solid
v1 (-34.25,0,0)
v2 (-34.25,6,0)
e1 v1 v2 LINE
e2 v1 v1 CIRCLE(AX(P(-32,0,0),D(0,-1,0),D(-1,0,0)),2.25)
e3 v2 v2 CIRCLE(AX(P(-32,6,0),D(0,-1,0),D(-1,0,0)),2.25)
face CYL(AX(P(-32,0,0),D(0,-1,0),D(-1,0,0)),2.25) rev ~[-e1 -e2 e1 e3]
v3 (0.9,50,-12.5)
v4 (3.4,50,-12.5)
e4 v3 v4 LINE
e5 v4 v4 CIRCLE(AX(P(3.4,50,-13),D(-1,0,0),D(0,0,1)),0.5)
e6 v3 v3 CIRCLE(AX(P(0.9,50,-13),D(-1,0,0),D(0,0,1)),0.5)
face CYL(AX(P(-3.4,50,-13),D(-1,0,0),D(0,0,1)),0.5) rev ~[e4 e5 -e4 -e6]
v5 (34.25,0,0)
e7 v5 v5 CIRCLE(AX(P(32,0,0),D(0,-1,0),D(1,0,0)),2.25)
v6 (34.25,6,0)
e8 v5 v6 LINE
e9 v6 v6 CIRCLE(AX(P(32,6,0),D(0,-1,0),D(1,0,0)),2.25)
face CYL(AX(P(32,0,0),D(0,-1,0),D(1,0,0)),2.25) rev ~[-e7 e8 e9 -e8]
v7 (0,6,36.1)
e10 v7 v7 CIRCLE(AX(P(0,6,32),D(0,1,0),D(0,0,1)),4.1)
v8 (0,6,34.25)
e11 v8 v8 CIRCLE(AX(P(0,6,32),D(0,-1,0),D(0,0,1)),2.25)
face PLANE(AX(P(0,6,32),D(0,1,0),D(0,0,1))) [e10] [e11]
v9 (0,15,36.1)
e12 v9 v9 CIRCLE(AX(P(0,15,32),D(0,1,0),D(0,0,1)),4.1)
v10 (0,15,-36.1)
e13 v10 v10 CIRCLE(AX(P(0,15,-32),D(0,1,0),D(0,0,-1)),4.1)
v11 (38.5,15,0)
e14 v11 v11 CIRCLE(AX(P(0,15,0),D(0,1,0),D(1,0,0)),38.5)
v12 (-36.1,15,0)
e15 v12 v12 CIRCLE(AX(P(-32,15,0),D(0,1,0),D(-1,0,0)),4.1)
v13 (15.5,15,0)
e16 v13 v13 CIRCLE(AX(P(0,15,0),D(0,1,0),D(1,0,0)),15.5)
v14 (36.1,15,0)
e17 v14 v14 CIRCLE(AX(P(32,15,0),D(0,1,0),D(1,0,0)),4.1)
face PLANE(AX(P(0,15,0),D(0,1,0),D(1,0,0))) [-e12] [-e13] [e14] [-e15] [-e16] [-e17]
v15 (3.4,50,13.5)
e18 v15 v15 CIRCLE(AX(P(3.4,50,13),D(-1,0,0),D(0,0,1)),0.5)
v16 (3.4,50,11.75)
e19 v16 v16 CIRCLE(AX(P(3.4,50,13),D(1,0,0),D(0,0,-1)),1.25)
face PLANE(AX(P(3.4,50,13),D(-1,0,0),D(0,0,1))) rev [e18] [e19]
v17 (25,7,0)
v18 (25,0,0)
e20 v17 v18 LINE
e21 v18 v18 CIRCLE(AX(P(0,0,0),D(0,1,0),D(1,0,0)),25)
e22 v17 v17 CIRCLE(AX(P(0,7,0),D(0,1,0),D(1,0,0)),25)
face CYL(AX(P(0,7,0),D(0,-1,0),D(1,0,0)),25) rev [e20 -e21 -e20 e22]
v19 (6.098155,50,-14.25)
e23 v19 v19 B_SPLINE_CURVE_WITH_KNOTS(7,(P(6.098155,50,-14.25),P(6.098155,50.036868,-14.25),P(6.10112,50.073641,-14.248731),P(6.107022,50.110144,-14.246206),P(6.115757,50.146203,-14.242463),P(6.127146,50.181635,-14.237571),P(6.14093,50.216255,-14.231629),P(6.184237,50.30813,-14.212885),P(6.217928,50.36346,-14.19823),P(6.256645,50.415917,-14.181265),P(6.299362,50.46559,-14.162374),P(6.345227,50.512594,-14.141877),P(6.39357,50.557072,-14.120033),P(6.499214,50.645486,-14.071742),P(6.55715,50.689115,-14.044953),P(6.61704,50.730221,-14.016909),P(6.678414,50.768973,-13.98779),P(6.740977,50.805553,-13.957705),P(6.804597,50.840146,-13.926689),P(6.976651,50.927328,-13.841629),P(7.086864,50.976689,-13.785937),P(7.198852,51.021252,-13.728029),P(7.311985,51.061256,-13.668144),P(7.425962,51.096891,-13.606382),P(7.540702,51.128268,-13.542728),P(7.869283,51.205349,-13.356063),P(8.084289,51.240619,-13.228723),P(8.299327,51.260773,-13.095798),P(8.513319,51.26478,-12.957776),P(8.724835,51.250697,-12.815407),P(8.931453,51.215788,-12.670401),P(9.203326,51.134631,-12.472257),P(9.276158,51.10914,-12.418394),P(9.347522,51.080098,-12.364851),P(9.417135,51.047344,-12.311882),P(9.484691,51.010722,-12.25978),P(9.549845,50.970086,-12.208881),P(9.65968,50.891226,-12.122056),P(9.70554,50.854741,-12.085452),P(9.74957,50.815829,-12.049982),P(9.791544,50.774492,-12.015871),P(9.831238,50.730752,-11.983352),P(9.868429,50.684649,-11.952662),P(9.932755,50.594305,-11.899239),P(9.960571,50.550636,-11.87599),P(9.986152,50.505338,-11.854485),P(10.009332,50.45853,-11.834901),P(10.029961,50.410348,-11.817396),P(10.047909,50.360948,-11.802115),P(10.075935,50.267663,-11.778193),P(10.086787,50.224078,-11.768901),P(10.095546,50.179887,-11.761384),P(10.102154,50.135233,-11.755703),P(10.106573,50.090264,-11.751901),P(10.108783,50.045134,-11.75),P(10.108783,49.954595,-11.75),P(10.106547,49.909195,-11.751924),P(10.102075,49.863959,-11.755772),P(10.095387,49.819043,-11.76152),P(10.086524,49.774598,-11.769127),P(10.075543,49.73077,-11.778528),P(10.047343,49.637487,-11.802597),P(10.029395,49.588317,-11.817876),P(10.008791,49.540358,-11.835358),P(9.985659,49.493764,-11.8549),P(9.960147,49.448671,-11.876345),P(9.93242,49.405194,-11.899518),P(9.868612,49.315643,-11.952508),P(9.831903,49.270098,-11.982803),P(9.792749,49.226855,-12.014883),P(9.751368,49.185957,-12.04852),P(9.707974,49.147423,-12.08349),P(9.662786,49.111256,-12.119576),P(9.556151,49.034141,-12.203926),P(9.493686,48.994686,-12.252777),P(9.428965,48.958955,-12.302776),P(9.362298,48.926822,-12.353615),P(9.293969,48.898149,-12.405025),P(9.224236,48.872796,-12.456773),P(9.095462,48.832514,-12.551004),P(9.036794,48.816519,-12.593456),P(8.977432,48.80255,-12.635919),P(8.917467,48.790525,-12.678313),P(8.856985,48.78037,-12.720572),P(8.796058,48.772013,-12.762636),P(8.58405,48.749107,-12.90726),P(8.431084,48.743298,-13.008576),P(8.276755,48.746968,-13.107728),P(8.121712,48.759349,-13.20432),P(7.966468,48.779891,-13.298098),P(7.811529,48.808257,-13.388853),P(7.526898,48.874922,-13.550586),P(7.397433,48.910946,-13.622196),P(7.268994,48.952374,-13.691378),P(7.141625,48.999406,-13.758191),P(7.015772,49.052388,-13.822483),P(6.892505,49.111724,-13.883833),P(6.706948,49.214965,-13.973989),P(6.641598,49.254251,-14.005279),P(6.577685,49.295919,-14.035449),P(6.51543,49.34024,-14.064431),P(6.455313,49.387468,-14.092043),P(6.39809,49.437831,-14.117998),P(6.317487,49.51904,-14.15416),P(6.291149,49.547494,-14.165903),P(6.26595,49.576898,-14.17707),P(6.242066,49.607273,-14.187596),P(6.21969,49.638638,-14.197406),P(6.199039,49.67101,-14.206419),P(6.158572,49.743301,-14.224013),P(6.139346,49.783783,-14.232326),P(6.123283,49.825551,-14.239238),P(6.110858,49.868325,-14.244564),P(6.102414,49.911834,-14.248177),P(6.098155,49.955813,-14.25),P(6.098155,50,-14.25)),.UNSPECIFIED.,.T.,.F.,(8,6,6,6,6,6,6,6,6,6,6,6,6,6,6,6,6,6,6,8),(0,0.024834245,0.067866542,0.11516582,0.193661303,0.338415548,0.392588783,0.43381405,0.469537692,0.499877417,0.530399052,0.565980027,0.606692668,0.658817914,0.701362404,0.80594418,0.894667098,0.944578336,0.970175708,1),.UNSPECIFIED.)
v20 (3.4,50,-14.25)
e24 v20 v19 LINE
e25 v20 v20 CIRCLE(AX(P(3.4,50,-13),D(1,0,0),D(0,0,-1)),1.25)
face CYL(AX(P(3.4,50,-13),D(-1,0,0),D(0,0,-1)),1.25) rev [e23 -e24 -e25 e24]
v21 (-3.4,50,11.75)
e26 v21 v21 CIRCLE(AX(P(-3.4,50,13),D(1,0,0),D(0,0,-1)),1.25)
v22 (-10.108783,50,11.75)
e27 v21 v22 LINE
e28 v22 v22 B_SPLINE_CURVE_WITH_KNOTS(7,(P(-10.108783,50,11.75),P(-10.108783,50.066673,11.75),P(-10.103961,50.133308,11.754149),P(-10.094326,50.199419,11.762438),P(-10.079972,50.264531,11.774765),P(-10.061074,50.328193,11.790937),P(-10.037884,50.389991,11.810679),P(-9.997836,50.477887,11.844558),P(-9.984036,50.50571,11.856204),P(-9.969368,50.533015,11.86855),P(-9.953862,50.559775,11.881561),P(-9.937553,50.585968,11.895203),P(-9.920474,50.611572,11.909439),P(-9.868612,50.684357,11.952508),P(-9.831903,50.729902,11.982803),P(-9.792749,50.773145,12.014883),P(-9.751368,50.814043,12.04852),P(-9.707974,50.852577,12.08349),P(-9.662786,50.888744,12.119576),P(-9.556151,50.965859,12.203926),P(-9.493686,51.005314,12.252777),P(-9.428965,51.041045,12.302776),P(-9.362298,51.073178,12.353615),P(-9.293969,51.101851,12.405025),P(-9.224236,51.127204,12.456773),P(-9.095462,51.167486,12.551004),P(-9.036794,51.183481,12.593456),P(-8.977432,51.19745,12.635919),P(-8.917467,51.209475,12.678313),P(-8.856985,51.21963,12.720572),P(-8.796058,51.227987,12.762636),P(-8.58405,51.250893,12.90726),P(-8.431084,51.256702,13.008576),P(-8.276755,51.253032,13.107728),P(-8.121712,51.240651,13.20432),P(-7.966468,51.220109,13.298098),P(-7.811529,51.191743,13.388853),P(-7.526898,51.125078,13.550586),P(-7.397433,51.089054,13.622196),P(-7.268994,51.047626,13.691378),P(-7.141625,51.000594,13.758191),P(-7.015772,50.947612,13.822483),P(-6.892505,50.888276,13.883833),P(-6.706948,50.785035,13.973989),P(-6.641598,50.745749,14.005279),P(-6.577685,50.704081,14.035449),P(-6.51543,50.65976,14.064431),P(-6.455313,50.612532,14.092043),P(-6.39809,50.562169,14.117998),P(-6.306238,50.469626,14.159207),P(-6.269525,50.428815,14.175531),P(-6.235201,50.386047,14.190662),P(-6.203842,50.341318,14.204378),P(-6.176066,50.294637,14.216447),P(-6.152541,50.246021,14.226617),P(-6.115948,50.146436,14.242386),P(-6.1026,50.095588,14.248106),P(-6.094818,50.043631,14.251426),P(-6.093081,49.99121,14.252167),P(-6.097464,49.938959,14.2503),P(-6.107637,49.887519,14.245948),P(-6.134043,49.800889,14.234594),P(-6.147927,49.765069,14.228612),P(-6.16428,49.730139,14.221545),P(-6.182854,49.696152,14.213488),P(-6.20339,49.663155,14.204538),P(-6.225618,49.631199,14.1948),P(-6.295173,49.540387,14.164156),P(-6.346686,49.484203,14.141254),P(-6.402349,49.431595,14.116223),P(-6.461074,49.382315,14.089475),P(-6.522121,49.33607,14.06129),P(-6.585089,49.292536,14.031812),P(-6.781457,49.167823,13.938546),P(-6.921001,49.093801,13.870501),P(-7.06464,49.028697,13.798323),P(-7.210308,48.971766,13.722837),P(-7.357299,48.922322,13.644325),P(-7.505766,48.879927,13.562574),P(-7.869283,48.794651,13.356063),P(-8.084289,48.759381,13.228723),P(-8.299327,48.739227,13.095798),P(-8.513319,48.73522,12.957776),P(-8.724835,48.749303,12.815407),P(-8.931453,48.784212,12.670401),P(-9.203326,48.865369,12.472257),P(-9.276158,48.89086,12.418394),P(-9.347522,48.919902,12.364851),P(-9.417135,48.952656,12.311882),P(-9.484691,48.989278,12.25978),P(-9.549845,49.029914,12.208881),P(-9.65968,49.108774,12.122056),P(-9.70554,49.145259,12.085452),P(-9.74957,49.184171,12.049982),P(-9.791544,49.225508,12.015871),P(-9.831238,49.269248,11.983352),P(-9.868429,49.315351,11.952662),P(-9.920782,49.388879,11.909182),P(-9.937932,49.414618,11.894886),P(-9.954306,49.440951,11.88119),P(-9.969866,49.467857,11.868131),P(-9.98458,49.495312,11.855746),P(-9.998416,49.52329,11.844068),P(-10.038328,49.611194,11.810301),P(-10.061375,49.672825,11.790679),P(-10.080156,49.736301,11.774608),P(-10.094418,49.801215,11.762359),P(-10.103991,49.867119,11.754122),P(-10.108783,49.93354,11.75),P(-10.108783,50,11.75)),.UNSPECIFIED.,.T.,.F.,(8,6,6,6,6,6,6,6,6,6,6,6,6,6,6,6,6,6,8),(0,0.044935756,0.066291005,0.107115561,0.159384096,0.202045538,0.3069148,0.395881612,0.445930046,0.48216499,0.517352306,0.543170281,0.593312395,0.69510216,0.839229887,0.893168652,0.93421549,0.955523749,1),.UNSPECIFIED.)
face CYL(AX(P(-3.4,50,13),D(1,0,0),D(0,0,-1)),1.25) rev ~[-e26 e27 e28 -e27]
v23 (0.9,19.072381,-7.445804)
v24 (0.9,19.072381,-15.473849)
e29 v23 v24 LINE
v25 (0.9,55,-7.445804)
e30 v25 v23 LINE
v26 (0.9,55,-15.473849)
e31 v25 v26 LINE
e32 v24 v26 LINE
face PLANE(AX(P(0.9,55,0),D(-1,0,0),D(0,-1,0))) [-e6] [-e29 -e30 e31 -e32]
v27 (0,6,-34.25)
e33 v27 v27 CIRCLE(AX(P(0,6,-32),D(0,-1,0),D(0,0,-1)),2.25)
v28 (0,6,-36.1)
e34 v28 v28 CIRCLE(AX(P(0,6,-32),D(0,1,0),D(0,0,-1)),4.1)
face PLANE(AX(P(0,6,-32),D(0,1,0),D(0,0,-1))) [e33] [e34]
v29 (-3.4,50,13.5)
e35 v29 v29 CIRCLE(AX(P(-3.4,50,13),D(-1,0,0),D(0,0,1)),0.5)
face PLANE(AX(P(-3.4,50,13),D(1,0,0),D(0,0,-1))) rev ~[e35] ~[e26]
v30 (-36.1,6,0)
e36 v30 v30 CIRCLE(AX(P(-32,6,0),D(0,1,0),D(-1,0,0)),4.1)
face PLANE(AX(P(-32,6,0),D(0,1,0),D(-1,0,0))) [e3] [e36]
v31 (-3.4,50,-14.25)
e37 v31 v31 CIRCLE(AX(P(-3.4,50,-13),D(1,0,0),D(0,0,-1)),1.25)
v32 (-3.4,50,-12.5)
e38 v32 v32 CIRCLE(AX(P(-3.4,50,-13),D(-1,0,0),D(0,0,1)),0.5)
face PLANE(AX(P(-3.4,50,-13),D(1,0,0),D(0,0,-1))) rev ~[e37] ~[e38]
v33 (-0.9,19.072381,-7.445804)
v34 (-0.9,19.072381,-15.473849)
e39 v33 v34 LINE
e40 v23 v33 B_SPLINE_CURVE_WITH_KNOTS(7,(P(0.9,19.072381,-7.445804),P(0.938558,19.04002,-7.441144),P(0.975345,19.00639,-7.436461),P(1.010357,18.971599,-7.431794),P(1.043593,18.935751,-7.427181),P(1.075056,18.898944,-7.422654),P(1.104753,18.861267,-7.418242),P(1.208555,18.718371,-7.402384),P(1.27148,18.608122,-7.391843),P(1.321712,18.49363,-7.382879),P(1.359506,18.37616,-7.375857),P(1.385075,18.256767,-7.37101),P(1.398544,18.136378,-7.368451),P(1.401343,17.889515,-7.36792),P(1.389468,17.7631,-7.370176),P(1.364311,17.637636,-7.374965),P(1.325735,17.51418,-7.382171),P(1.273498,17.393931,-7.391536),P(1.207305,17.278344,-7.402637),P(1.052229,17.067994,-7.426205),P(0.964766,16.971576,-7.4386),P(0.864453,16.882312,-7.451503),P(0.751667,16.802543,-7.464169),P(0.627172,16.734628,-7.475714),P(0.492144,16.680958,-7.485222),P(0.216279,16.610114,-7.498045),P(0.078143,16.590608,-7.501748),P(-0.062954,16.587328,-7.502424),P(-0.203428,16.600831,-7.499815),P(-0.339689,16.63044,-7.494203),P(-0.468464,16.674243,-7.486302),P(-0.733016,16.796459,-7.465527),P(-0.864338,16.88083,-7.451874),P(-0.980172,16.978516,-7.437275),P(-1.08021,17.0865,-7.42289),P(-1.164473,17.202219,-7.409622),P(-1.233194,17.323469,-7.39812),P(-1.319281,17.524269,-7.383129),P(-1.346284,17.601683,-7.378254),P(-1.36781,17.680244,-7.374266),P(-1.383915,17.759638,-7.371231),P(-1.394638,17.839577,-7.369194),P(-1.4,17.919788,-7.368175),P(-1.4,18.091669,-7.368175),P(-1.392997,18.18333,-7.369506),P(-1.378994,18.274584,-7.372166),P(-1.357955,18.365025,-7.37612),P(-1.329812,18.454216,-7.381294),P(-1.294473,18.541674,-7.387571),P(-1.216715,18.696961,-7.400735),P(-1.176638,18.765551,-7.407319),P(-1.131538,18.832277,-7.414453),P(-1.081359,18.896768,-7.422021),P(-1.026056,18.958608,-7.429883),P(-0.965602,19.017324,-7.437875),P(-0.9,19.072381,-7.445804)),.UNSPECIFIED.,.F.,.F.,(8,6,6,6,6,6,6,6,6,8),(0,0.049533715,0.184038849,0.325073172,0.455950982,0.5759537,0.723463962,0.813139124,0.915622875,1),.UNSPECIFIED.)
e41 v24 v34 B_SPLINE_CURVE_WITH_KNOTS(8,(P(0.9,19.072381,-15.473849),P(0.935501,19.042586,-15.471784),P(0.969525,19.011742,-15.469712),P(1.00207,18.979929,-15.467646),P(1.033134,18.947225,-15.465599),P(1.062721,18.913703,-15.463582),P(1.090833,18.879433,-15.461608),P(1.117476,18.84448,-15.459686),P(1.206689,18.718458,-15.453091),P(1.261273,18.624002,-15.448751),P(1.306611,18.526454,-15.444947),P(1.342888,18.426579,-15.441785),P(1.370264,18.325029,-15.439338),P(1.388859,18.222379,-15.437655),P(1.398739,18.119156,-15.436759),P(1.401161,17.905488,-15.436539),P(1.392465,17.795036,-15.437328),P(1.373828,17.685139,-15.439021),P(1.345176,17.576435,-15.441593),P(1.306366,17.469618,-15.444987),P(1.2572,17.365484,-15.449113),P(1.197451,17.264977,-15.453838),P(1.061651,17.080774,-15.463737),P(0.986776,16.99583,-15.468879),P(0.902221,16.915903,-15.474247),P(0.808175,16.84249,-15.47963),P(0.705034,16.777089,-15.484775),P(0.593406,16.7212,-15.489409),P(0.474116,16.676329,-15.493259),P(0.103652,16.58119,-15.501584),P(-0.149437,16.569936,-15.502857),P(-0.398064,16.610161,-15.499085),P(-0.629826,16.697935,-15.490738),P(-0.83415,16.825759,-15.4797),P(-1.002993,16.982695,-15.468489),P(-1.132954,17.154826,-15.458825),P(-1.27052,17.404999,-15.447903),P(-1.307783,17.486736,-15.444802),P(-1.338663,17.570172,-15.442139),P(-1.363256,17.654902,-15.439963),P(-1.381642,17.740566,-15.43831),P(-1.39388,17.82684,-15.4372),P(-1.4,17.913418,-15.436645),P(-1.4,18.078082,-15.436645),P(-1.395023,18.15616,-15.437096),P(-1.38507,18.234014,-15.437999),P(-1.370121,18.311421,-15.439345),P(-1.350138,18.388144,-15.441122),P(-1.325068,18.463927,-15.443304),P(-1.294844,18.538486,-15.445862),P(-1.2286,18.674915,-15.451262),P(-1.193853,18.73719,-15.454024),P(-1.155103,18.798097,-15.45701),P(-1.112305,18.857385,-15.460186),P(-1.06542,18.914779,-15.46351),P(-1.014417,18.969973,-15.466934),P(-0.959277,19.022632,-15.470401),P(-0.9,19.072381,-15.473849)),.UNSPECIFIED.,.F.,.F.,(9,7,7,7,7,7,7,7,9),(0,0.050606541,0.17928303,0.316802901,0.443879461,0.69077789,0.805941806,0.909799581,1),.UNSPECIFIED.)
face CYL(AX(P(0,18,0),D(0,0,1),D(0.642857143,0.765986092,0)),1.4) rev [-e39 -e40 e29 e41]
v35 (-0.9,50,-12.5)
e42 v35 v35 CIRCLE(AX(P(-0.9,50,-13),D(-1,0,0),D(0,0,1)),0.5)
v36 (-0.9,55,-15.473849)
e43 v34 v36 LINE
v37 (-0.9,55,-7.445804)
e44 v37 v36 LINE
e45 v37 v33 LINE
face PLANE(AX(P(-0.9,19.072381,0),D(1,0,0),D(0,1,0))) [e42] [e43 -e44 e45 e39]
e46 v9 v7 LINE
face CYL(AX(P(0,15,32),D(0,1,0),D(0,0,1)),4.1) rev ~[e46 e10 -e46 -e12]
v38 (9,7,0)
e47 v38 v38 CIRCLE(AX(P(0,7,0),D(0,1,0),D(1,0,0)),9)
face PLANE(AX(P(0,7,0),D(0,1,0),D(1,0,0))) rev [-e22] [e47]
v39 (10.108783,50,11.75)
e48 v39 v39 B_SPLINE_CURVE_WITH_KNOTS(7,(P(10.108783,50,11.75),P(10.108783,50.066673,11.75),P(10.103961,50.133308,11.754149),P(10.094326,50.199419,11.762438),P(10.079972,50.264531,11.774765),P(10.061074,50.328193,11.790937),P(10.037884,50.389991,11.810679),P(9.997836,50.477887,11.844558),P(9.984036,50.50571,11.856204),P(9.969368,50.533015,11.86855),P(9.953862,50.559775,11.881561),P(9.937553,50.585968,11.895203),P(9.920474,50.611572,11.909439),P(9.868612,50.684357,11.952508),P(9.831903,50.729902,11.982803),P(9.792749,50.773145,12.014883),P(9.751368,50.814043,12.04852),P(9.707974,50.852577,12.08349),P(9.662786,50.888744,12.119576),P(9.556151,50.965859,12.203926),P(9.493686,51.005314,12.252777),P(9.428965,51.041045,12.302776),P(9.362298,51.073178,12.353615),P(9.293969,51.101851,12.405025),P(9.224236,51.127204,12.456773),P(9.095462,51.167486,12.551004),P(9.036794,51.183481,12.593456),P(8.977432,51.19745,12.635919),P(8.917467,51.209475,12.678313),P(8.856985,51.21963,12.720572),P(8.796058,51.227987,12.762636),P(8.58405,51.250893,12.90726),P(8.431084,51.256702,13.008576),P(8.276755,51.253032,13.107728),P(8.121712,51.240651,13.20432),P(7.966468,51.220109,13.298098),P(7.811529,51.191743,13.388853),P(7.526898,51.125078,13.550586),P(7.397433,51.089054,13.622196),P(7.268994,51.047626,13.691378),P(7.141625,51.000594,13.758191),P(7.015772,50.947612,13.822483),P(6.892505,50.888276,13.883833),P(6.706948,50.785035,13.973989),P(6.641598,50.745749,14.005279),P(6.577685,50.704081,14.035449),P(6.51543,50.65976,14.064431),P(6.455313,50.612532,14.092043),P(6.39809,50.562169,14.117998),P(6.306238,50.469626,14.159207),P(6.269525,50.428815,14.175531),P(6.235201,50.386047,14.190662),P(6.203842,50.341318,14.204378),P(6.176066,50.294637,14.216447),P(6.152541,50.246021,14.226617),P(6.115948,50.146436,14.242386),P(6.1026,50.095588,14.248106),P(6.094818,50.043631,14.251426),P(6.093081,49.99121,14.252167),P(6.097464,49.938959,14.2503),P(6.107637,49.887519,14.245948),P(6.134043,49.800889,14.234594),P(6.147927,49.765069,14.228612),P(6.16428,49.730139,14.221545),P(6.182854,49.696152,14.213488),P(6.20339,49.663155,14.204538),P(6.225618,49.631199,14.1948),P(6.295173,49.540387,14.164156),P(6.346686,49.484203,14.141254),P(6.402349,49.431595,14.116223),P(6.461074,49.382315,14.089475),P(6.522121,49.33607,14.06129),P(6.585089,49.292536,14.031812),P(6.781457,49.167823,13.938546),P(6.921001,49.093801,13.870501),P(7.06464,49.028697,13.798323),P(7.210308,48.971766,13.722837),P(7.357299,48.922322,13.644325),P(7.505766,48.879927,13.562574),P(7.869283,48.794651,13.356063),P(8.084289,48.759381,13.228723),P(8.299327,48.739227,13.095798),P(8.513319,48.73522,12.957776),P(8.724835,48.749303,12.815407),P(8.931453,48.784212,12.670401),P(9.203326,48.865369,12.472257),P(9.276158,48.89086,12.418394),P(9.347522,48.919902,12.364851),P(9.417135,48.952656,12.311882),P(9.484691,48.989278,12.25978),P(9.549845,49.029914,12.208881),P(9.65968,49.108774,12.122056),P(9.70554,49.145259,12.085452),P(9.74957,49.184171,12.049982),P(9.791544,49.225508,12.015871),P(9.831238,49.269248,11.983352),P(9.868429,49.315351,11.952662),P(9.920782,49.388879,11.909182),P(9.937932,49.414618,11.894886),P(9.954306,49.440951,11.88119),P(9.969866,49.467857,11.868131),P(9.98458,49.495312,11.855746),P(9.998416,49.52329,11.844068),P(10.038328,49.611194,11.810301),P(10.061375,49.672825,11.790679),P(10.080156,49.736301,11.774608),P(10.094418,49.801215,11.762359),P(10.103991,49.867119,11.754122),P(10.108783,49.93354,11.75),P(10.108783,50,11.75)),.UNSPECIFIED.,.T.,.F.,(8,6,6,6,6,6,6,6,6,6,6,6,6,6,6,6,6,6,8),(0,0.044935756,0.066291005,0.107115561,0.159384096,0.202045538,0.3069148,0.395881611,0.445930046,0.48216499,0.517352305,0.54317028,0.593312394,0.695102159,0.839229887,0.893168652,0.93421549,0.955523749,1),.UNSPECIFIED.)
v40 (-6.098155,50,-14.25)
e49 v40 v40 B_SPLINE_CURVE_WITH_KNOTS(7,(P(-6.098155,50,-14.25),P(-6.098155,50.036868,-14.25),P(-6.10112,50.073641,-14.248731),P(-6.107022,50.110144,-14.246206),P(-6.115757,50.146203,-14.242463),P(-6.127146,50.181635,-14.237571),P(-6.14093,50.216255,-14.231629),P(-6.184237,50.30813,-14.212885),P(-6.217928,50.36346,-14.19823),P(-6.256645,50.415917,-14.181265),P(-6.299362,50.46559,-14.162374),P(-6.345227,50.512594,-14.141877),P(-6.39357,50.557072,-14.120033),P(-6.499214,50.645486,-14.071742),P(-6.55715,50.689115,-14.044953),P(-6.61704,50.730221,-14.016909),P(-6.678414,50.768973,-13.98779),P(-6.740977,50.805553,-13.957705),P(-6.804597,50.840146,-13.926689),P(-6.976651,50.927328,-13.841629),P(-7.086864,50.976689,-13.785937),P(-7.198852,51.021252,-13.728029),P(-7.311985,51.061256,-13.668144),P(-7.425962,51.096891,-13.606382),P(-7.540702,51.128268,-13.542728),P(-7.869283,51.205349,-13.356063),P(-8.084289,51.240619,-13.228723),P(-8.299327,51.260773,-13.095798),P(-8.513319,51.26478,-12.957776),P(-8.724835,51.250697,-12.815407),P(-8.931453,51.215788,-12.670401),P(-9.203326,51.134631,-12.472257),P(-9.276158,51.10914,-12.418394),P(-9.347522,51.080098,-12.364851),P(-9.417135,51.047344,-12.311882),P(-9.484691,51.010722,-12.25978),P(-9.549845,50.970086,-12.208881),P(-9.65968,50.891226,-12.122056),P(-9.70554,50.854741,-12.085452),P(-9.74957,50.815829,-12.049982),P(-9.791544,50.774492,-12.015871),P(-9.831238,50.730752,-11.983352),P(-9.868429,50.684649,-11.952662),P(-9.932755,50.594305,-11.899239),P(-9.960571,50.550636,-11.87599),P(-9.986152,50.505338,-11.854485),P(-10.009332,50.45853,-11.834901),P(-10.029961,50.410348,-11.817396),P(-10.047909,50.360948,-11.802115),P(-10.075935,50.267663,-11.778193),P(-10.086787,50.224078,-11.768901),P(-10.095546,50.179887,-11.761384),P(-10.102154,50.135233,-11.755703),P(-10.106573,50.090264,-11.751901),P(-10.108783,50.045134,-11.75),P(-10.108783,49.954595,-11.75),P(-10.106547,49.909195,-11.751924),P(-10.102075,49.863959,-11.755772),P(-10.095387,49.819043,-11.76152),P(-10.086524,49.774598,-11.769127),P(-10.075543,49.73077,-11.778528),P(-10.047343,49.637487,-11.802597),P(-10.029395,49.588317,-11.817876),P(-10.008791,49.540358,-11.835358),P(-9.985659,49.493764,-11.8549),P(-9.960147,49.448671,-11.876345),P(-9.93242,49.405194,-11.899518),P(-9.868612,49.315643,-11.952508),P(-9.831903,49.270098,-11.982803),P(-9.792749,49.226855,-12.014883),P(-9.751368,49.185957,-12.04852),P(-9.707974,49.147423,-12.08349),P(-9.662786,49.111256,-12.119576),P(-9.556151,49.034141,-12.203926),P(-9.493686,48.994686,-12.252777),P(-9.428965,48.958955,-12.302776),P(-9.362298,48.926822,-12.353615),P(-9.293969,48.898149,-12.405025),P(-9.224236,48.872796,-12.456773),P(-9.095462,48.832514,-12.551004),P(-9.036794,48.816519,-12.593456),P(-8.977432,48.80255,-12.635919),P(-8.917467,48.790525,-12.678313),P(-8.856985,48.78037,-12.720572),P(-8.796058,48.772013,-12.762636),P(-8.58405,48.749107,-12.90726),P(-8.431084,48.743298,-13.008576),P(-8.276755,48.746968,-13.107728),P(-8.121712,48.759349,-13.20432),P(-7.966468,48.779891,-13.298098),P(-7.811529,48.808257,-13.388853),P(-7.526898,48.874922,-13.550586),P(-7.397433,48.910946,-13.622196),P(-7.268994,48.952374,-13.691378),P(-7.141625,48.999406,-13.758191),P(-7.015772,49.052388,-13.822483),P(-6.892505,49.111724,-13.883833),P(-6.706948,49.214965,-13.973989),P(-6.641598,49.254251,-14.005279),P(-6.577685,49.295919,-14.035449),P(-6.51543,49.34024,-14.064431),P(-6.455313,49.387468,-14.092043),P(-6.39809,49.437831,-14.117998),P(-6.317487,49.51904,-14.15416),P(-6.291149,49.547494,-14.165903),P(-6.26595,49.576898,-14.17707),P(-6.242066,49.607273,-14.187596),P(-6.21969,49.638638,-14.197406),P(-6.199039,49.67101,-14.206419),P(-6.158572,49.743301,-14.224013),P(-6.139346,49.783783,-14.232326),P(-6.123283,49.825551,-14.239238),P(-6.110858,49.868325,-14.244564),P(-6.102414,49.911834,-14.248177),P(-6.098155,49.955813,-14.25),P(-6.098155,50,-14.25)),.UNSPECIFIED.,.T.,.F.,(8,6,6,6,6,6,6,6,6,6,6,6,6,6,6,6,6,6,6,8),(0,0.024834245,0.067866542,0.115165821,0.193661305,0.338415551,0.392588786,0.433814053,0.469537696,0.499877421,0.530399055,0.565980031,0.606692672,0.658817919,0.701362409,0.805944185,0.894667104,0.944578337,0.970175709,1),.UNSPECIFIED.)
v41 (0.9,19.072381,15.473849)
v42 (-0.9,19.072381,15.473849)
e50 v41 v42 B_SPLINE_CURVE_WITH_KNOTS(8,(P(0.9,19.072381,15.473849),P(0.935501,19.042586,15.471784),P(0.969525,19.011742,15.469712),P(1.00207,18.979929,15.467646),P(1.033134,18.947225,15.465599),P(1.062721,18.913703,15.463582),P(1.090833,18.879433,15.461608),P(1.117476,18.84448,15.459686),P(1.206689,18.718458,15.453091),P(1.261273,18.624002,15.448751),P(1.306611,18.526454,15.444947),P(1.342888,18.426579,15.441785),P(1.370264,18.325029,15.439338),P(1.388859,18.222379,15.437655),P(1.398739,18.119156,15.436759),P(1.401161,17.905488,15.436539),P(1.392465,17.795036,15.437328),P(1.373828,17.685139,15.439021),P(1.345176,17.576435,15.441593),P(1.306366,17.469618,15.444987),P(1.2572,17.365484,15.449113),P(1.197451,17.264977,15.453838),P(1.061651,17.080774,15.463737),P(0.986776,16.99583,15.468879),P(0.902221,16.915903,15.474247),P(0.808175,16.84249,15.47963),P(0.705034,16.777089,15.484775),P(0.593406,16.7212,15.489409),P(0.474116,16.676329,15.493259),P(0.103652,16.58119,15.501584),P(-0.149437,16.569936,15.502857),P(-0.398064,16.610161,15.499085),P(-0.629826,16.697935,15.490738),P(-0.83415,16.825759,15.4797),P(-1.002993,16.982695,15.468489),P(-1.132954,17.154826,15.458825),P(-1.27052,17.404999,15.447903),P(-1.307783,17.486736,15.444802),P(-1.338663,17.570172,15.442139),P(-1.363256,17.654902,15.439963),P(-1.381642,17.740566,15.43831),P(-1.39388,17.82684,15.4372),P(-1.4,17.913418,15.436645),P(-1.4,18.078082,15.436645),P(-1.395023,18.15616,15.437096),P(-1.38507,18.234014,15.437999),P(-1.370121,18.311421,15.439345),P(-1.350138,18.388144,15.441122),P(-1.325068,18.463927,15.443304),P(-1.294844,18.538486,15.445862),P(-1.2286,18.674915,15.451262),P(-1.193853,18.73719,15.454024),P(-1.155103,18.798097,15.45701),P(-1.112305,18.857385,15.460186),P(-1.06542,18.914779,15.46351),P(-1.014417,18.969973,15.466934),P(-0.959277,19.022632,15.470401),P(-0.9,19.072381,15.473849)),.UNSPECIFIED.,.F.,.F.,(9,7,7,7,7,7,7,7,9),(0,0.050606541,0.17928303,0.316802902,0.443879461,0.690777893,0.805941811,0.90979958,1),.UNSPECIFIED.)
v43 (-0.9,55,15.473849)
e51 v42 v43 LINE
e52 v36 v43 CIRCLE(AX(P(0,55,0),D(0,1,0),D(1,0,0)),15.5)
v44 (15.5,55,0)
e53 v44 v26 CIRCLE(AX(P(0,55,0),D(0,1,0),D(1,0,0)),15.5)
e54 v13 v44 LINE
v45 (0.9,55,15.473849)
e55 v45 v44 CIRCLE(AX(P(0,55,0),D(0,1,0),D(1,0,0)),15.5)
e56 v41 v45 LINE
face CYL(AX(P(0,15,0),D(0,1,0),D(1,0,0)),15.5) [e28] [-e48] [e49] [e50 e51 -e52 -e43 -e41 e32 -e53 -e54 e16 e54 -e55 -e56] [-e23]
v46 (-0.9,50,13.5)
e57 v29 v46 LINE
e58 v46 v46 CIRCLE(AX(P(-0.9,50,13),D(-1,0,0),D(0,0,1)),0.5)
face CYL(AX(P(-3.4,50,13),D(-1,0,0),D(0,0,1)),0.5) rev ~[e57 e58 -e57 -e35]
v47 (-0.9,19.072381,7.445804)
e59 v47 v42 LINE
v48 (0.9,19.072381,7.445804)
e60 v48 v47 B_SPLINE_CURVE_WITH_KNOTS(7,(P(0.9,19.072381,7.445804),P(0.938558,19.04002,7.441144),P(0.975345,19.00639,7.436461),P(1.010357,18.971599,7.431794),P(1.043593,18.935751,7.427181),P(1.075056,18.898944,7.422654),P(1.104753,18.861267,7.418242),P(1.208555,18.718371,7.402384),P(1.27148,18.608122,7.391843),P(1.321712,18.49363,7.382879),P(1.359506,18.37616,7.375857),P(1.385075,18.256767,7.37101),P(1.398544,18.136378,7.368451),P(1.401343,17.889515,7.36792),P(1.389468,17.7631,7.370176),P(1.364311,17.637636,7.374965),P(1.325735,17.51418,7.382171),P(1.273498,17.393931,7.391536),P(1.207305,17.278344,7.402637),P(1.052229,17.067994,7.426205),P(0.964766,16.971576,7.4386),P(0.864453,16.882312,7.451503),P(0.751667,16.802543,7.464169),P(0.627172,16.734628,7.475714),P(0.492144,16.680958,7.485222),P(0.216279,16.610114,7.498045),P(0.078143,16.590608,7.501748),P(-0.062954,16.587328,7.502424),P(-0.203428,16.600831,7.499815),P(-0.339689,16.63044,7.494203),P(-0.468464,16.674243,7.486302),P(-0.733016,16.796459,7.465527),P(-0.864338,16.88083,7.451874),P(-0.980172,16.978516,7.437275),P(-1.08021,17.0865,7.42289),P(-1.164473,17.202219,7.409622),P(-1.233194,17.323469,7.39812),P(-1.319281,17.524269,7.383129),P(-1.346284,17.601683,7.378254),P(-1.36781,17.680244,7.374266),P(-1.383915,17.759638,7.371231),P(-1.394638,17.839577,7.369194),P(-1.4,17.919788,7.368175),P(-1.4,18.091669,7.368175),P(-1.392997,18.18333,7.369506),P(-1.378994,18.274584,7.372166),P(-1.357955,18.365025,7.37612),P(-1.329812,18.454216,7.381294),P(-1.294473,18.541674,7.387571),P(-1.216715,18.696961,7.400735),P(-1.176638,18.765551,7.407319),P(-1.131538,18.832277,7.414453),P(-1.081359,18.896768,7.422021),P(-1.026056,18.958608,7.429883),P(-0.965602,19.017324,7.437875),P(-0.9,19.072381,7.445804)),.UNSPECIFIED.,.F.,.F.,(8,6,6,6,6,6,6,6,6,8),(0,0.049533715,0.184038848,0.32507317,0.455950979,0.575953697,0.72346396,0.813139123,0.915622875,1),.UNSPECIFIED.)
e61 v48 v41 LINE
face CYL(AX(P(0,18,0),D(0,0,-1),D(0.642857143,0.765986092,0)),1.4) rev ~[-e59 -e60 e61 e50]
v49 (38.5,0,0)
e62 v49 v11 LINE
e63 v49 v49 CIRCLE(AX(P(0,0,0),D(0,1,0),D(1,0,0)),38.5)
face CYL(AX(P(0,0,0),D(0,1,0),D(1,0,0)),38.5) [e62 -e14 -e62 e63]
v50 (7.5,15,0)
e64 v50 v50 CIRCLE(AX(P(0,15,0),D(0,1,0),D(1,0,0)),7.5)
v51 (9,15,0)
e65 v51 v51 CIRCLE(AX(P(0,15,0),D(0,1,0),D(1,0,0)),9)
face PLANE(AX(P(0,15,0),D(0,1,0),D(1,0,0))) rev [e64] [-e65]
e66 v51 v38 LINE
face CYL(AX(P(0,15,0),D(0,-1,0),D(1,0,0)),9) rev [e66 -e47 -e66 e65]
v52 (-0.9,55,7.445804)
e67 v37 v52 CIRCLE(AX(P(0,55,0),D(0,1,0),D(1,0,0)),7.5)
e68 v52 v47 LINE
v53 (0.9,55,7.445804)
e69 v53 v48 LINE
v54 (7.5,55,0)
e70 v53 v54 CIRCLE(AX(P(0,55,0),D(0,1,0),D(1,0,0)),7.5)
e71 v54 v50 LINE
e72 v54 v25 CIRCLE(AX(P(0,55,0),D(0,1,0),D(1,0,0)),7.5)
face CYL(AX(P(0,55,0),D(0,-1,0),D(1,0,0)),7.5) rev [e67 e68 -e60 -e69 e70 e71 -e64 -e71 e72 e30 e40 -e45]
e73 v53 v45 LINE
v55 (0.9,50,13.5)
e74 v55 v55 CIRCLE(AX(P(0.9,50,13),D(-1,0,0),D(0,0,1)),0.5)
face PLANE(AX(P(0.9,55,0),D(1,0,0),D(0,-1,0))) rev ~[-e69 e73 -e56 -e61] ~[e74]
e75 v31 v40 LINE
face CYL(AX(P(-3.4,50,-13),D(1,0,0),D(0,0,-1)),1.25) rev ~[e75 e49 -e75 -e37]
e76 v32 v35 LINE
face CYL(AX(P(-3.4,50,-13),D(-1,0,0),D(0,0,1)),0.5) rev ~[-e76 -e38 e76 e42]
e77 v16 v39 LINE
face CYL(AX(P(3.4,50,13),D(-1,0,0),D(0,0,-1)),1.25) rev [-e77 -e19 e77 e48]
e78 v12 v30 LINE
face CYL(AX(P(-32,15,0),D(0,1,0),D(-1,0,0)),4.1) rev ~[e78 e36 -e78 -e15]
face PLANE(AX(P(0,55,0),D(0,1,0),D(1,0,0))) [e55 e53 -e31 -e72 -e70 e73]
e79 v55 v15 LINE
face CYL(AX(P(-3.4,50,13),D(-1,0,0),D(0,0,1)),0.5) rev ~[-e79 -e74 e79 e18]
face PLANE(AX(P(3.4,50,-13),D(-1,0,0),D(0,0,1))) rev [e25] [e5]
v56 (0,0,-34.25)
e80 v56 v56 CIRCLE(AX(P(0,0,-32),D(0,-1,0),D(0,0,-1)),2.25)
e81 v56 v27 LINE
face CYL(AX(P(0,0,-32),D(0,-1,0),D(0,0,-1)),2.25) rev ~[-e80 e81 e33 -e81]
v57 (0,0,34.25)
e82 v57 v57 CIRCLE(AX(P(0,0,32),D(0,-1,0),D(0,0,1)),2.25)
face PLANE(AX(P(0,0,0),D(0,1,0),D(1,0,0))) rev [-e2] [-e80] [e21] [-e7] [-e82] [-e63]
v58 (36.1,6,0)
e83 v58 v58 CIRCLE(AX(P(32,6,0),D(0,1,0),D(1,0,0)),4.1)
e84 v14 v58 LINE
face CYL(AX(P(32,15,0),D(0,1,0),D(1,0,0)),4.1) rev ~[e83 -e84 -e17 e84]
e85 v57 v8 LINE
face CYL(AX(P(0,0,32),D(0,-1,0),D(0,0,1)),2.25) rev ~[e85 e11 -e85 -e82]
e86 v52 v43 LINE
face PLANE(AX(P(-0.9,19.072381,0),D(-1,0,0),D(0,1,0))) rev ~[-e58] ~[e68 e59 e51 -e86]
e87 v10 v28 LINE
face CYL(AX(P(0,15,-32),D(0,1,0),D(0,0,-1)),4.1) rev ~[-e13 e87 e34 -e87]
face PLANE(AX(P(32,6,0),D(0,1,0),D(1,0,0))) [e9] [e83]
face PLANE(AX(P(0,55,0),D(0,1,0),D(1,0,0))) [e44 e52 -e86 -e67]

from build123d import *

# Parameters (mm, degrees)
CUT_EXTRUDE1_DEPTH      = 39.5
CUT_EXTRUDE1_DEPTH_BACK = 39.5
CUT_EXTRUDE2_START      = -2.5
SKETCH3_R               = 1.25
CUT_EXTRUDE2_DEPTH      = 36.1
SKETCH4_R               = 0.5
CUT_EXTRUDE3_DEPTH      = 42.9
SKETCH5_R               = 2.25
CUT_EXTRUDE4_DEPTH      = 56.0000001
SKETCH6_R               = 4.1
CUT_EXTRUDE5_DEPTH      = 9
CIRPATTERN1_COUNT       = 4


with BuildPart() as part:
    # Sketch1 → Revolve1 (revolve)
    with BuildSketch(Plane.XY):
        Polygon((7.5, 55), (7.5, 15), (9, 15), (9, 7), (25, 7), (25, 0), (38.5, 0), (38.5, 15), (15.5, 15), (15.5, 55), align=None)
    revolve(axis=Axis((0, 0, 0), (0, 1, 0)))

    # Sketch2 → Cut-Extrude1 (cut, two sides)
    with BuildSketch(Plane.XY) as cut_extrude1_sk:
        with BuildLine():
            Line((-0.9, 55), (0.9, 55))
            Line((0.9, 55), (0.9, 19.072380529))
            ThreePointArc((0.9, 19.072380529), (0, 16.6), (-0.9, 19.072380529))
            Line((-0.9, 19.072380529), (-0.9, 55))
        make_face()
    extrude(amount=CUT_EXTRUDE1_DEPTH, mode=Mode.SUBTRACT)
    extrude(cut_extrude1_sk.sketch, amount=-CUT_EXTRUDE1_DEPTH_BACK, mode=Mode.SUBTRACT)

    # Sketch3 → Cut-Extrude2 (cut, through all)
    with BuildSketch(Plane(origin=(-0.9, 0, 0), x_dir=(0, 0, -1), z_dir=(1, 0, 0)).offset(CUT_EXTRUDE2_START)):
        with Locations((-13, 50)):
            Circle(SKETCH3_R)
        with Locations((13, 50)):
            Circle(SKETCH3_R)
    cut_extrude2 = extrude(amount=-CUT_EXTRUDE2_DEPTH, mode=Mode.SUBTRACT)

    # Sketch4 → Cut-Extrude3 (cut, through all)
    with BuildSketch(Plane.ZY.offset(3.4)):
        with Locations((13, 50)):
            Circle(SKETCH4_R)
        with Locations((-13, 50)):
            Circle(SKETCH4_R)
    extrude(amount=-CUT_EXTRUDE3_DEPTH, mode=Mode.SUBTRACT)

    # Mirror1: Cut-Extrude2 across plane
    add(cut_extrude2.mirror(Plane(origin=(0, 0, 0), x_dir=(0, 0, 1), z_dir=(1, 0, 0))), mode=Mode.SUBTRACT)

    # Sketch5 → Cut-Extrude4 (cut, through all)
    with BuildSketch(Plane.XZ):
        with Locations((32, 0)):
            Circle(SKETCH5_R)
    cut_extrude4 = extrude(amount=-CUT_EXTRUDE4_DEPTH, mode=Mode.SUBTRACT)

    # Sketch6 → Cut-Extrude5 (cut)
    with BuildSketch(Plane(origin=(0, 15, 0), x_dir=(1, 0, 0), z_dir=(0, 1, 0))):
        with Locations((32, 0)):
            Circle(SKETCH6_R)
    cut_extrude5 = extrude(amount=-CUT_EXTRUDE5_DEPTH, mode=Mode.SUBTRACT)

    # CirPattern1: Cut-Extrude4, Cut-Extrude5 ×4 about axis
    cirpattern1_axis = Axis((0, 0, 0), (0, 1, 0))
    for i in range(1, CIRPATTERN1_COUNT):
        add(cut_extrude4.rotate(cirpattern1_axis, i * 360 / CIRPATTERN1_COUNT), mode=Mode.SUBTRACT)
        add(cut_extrude5.rotate(cirpattern1_axis, i * 360 / CIRPATTERN1_COUNT), mode=Mode.SUBTRACT)


solid = part.part
